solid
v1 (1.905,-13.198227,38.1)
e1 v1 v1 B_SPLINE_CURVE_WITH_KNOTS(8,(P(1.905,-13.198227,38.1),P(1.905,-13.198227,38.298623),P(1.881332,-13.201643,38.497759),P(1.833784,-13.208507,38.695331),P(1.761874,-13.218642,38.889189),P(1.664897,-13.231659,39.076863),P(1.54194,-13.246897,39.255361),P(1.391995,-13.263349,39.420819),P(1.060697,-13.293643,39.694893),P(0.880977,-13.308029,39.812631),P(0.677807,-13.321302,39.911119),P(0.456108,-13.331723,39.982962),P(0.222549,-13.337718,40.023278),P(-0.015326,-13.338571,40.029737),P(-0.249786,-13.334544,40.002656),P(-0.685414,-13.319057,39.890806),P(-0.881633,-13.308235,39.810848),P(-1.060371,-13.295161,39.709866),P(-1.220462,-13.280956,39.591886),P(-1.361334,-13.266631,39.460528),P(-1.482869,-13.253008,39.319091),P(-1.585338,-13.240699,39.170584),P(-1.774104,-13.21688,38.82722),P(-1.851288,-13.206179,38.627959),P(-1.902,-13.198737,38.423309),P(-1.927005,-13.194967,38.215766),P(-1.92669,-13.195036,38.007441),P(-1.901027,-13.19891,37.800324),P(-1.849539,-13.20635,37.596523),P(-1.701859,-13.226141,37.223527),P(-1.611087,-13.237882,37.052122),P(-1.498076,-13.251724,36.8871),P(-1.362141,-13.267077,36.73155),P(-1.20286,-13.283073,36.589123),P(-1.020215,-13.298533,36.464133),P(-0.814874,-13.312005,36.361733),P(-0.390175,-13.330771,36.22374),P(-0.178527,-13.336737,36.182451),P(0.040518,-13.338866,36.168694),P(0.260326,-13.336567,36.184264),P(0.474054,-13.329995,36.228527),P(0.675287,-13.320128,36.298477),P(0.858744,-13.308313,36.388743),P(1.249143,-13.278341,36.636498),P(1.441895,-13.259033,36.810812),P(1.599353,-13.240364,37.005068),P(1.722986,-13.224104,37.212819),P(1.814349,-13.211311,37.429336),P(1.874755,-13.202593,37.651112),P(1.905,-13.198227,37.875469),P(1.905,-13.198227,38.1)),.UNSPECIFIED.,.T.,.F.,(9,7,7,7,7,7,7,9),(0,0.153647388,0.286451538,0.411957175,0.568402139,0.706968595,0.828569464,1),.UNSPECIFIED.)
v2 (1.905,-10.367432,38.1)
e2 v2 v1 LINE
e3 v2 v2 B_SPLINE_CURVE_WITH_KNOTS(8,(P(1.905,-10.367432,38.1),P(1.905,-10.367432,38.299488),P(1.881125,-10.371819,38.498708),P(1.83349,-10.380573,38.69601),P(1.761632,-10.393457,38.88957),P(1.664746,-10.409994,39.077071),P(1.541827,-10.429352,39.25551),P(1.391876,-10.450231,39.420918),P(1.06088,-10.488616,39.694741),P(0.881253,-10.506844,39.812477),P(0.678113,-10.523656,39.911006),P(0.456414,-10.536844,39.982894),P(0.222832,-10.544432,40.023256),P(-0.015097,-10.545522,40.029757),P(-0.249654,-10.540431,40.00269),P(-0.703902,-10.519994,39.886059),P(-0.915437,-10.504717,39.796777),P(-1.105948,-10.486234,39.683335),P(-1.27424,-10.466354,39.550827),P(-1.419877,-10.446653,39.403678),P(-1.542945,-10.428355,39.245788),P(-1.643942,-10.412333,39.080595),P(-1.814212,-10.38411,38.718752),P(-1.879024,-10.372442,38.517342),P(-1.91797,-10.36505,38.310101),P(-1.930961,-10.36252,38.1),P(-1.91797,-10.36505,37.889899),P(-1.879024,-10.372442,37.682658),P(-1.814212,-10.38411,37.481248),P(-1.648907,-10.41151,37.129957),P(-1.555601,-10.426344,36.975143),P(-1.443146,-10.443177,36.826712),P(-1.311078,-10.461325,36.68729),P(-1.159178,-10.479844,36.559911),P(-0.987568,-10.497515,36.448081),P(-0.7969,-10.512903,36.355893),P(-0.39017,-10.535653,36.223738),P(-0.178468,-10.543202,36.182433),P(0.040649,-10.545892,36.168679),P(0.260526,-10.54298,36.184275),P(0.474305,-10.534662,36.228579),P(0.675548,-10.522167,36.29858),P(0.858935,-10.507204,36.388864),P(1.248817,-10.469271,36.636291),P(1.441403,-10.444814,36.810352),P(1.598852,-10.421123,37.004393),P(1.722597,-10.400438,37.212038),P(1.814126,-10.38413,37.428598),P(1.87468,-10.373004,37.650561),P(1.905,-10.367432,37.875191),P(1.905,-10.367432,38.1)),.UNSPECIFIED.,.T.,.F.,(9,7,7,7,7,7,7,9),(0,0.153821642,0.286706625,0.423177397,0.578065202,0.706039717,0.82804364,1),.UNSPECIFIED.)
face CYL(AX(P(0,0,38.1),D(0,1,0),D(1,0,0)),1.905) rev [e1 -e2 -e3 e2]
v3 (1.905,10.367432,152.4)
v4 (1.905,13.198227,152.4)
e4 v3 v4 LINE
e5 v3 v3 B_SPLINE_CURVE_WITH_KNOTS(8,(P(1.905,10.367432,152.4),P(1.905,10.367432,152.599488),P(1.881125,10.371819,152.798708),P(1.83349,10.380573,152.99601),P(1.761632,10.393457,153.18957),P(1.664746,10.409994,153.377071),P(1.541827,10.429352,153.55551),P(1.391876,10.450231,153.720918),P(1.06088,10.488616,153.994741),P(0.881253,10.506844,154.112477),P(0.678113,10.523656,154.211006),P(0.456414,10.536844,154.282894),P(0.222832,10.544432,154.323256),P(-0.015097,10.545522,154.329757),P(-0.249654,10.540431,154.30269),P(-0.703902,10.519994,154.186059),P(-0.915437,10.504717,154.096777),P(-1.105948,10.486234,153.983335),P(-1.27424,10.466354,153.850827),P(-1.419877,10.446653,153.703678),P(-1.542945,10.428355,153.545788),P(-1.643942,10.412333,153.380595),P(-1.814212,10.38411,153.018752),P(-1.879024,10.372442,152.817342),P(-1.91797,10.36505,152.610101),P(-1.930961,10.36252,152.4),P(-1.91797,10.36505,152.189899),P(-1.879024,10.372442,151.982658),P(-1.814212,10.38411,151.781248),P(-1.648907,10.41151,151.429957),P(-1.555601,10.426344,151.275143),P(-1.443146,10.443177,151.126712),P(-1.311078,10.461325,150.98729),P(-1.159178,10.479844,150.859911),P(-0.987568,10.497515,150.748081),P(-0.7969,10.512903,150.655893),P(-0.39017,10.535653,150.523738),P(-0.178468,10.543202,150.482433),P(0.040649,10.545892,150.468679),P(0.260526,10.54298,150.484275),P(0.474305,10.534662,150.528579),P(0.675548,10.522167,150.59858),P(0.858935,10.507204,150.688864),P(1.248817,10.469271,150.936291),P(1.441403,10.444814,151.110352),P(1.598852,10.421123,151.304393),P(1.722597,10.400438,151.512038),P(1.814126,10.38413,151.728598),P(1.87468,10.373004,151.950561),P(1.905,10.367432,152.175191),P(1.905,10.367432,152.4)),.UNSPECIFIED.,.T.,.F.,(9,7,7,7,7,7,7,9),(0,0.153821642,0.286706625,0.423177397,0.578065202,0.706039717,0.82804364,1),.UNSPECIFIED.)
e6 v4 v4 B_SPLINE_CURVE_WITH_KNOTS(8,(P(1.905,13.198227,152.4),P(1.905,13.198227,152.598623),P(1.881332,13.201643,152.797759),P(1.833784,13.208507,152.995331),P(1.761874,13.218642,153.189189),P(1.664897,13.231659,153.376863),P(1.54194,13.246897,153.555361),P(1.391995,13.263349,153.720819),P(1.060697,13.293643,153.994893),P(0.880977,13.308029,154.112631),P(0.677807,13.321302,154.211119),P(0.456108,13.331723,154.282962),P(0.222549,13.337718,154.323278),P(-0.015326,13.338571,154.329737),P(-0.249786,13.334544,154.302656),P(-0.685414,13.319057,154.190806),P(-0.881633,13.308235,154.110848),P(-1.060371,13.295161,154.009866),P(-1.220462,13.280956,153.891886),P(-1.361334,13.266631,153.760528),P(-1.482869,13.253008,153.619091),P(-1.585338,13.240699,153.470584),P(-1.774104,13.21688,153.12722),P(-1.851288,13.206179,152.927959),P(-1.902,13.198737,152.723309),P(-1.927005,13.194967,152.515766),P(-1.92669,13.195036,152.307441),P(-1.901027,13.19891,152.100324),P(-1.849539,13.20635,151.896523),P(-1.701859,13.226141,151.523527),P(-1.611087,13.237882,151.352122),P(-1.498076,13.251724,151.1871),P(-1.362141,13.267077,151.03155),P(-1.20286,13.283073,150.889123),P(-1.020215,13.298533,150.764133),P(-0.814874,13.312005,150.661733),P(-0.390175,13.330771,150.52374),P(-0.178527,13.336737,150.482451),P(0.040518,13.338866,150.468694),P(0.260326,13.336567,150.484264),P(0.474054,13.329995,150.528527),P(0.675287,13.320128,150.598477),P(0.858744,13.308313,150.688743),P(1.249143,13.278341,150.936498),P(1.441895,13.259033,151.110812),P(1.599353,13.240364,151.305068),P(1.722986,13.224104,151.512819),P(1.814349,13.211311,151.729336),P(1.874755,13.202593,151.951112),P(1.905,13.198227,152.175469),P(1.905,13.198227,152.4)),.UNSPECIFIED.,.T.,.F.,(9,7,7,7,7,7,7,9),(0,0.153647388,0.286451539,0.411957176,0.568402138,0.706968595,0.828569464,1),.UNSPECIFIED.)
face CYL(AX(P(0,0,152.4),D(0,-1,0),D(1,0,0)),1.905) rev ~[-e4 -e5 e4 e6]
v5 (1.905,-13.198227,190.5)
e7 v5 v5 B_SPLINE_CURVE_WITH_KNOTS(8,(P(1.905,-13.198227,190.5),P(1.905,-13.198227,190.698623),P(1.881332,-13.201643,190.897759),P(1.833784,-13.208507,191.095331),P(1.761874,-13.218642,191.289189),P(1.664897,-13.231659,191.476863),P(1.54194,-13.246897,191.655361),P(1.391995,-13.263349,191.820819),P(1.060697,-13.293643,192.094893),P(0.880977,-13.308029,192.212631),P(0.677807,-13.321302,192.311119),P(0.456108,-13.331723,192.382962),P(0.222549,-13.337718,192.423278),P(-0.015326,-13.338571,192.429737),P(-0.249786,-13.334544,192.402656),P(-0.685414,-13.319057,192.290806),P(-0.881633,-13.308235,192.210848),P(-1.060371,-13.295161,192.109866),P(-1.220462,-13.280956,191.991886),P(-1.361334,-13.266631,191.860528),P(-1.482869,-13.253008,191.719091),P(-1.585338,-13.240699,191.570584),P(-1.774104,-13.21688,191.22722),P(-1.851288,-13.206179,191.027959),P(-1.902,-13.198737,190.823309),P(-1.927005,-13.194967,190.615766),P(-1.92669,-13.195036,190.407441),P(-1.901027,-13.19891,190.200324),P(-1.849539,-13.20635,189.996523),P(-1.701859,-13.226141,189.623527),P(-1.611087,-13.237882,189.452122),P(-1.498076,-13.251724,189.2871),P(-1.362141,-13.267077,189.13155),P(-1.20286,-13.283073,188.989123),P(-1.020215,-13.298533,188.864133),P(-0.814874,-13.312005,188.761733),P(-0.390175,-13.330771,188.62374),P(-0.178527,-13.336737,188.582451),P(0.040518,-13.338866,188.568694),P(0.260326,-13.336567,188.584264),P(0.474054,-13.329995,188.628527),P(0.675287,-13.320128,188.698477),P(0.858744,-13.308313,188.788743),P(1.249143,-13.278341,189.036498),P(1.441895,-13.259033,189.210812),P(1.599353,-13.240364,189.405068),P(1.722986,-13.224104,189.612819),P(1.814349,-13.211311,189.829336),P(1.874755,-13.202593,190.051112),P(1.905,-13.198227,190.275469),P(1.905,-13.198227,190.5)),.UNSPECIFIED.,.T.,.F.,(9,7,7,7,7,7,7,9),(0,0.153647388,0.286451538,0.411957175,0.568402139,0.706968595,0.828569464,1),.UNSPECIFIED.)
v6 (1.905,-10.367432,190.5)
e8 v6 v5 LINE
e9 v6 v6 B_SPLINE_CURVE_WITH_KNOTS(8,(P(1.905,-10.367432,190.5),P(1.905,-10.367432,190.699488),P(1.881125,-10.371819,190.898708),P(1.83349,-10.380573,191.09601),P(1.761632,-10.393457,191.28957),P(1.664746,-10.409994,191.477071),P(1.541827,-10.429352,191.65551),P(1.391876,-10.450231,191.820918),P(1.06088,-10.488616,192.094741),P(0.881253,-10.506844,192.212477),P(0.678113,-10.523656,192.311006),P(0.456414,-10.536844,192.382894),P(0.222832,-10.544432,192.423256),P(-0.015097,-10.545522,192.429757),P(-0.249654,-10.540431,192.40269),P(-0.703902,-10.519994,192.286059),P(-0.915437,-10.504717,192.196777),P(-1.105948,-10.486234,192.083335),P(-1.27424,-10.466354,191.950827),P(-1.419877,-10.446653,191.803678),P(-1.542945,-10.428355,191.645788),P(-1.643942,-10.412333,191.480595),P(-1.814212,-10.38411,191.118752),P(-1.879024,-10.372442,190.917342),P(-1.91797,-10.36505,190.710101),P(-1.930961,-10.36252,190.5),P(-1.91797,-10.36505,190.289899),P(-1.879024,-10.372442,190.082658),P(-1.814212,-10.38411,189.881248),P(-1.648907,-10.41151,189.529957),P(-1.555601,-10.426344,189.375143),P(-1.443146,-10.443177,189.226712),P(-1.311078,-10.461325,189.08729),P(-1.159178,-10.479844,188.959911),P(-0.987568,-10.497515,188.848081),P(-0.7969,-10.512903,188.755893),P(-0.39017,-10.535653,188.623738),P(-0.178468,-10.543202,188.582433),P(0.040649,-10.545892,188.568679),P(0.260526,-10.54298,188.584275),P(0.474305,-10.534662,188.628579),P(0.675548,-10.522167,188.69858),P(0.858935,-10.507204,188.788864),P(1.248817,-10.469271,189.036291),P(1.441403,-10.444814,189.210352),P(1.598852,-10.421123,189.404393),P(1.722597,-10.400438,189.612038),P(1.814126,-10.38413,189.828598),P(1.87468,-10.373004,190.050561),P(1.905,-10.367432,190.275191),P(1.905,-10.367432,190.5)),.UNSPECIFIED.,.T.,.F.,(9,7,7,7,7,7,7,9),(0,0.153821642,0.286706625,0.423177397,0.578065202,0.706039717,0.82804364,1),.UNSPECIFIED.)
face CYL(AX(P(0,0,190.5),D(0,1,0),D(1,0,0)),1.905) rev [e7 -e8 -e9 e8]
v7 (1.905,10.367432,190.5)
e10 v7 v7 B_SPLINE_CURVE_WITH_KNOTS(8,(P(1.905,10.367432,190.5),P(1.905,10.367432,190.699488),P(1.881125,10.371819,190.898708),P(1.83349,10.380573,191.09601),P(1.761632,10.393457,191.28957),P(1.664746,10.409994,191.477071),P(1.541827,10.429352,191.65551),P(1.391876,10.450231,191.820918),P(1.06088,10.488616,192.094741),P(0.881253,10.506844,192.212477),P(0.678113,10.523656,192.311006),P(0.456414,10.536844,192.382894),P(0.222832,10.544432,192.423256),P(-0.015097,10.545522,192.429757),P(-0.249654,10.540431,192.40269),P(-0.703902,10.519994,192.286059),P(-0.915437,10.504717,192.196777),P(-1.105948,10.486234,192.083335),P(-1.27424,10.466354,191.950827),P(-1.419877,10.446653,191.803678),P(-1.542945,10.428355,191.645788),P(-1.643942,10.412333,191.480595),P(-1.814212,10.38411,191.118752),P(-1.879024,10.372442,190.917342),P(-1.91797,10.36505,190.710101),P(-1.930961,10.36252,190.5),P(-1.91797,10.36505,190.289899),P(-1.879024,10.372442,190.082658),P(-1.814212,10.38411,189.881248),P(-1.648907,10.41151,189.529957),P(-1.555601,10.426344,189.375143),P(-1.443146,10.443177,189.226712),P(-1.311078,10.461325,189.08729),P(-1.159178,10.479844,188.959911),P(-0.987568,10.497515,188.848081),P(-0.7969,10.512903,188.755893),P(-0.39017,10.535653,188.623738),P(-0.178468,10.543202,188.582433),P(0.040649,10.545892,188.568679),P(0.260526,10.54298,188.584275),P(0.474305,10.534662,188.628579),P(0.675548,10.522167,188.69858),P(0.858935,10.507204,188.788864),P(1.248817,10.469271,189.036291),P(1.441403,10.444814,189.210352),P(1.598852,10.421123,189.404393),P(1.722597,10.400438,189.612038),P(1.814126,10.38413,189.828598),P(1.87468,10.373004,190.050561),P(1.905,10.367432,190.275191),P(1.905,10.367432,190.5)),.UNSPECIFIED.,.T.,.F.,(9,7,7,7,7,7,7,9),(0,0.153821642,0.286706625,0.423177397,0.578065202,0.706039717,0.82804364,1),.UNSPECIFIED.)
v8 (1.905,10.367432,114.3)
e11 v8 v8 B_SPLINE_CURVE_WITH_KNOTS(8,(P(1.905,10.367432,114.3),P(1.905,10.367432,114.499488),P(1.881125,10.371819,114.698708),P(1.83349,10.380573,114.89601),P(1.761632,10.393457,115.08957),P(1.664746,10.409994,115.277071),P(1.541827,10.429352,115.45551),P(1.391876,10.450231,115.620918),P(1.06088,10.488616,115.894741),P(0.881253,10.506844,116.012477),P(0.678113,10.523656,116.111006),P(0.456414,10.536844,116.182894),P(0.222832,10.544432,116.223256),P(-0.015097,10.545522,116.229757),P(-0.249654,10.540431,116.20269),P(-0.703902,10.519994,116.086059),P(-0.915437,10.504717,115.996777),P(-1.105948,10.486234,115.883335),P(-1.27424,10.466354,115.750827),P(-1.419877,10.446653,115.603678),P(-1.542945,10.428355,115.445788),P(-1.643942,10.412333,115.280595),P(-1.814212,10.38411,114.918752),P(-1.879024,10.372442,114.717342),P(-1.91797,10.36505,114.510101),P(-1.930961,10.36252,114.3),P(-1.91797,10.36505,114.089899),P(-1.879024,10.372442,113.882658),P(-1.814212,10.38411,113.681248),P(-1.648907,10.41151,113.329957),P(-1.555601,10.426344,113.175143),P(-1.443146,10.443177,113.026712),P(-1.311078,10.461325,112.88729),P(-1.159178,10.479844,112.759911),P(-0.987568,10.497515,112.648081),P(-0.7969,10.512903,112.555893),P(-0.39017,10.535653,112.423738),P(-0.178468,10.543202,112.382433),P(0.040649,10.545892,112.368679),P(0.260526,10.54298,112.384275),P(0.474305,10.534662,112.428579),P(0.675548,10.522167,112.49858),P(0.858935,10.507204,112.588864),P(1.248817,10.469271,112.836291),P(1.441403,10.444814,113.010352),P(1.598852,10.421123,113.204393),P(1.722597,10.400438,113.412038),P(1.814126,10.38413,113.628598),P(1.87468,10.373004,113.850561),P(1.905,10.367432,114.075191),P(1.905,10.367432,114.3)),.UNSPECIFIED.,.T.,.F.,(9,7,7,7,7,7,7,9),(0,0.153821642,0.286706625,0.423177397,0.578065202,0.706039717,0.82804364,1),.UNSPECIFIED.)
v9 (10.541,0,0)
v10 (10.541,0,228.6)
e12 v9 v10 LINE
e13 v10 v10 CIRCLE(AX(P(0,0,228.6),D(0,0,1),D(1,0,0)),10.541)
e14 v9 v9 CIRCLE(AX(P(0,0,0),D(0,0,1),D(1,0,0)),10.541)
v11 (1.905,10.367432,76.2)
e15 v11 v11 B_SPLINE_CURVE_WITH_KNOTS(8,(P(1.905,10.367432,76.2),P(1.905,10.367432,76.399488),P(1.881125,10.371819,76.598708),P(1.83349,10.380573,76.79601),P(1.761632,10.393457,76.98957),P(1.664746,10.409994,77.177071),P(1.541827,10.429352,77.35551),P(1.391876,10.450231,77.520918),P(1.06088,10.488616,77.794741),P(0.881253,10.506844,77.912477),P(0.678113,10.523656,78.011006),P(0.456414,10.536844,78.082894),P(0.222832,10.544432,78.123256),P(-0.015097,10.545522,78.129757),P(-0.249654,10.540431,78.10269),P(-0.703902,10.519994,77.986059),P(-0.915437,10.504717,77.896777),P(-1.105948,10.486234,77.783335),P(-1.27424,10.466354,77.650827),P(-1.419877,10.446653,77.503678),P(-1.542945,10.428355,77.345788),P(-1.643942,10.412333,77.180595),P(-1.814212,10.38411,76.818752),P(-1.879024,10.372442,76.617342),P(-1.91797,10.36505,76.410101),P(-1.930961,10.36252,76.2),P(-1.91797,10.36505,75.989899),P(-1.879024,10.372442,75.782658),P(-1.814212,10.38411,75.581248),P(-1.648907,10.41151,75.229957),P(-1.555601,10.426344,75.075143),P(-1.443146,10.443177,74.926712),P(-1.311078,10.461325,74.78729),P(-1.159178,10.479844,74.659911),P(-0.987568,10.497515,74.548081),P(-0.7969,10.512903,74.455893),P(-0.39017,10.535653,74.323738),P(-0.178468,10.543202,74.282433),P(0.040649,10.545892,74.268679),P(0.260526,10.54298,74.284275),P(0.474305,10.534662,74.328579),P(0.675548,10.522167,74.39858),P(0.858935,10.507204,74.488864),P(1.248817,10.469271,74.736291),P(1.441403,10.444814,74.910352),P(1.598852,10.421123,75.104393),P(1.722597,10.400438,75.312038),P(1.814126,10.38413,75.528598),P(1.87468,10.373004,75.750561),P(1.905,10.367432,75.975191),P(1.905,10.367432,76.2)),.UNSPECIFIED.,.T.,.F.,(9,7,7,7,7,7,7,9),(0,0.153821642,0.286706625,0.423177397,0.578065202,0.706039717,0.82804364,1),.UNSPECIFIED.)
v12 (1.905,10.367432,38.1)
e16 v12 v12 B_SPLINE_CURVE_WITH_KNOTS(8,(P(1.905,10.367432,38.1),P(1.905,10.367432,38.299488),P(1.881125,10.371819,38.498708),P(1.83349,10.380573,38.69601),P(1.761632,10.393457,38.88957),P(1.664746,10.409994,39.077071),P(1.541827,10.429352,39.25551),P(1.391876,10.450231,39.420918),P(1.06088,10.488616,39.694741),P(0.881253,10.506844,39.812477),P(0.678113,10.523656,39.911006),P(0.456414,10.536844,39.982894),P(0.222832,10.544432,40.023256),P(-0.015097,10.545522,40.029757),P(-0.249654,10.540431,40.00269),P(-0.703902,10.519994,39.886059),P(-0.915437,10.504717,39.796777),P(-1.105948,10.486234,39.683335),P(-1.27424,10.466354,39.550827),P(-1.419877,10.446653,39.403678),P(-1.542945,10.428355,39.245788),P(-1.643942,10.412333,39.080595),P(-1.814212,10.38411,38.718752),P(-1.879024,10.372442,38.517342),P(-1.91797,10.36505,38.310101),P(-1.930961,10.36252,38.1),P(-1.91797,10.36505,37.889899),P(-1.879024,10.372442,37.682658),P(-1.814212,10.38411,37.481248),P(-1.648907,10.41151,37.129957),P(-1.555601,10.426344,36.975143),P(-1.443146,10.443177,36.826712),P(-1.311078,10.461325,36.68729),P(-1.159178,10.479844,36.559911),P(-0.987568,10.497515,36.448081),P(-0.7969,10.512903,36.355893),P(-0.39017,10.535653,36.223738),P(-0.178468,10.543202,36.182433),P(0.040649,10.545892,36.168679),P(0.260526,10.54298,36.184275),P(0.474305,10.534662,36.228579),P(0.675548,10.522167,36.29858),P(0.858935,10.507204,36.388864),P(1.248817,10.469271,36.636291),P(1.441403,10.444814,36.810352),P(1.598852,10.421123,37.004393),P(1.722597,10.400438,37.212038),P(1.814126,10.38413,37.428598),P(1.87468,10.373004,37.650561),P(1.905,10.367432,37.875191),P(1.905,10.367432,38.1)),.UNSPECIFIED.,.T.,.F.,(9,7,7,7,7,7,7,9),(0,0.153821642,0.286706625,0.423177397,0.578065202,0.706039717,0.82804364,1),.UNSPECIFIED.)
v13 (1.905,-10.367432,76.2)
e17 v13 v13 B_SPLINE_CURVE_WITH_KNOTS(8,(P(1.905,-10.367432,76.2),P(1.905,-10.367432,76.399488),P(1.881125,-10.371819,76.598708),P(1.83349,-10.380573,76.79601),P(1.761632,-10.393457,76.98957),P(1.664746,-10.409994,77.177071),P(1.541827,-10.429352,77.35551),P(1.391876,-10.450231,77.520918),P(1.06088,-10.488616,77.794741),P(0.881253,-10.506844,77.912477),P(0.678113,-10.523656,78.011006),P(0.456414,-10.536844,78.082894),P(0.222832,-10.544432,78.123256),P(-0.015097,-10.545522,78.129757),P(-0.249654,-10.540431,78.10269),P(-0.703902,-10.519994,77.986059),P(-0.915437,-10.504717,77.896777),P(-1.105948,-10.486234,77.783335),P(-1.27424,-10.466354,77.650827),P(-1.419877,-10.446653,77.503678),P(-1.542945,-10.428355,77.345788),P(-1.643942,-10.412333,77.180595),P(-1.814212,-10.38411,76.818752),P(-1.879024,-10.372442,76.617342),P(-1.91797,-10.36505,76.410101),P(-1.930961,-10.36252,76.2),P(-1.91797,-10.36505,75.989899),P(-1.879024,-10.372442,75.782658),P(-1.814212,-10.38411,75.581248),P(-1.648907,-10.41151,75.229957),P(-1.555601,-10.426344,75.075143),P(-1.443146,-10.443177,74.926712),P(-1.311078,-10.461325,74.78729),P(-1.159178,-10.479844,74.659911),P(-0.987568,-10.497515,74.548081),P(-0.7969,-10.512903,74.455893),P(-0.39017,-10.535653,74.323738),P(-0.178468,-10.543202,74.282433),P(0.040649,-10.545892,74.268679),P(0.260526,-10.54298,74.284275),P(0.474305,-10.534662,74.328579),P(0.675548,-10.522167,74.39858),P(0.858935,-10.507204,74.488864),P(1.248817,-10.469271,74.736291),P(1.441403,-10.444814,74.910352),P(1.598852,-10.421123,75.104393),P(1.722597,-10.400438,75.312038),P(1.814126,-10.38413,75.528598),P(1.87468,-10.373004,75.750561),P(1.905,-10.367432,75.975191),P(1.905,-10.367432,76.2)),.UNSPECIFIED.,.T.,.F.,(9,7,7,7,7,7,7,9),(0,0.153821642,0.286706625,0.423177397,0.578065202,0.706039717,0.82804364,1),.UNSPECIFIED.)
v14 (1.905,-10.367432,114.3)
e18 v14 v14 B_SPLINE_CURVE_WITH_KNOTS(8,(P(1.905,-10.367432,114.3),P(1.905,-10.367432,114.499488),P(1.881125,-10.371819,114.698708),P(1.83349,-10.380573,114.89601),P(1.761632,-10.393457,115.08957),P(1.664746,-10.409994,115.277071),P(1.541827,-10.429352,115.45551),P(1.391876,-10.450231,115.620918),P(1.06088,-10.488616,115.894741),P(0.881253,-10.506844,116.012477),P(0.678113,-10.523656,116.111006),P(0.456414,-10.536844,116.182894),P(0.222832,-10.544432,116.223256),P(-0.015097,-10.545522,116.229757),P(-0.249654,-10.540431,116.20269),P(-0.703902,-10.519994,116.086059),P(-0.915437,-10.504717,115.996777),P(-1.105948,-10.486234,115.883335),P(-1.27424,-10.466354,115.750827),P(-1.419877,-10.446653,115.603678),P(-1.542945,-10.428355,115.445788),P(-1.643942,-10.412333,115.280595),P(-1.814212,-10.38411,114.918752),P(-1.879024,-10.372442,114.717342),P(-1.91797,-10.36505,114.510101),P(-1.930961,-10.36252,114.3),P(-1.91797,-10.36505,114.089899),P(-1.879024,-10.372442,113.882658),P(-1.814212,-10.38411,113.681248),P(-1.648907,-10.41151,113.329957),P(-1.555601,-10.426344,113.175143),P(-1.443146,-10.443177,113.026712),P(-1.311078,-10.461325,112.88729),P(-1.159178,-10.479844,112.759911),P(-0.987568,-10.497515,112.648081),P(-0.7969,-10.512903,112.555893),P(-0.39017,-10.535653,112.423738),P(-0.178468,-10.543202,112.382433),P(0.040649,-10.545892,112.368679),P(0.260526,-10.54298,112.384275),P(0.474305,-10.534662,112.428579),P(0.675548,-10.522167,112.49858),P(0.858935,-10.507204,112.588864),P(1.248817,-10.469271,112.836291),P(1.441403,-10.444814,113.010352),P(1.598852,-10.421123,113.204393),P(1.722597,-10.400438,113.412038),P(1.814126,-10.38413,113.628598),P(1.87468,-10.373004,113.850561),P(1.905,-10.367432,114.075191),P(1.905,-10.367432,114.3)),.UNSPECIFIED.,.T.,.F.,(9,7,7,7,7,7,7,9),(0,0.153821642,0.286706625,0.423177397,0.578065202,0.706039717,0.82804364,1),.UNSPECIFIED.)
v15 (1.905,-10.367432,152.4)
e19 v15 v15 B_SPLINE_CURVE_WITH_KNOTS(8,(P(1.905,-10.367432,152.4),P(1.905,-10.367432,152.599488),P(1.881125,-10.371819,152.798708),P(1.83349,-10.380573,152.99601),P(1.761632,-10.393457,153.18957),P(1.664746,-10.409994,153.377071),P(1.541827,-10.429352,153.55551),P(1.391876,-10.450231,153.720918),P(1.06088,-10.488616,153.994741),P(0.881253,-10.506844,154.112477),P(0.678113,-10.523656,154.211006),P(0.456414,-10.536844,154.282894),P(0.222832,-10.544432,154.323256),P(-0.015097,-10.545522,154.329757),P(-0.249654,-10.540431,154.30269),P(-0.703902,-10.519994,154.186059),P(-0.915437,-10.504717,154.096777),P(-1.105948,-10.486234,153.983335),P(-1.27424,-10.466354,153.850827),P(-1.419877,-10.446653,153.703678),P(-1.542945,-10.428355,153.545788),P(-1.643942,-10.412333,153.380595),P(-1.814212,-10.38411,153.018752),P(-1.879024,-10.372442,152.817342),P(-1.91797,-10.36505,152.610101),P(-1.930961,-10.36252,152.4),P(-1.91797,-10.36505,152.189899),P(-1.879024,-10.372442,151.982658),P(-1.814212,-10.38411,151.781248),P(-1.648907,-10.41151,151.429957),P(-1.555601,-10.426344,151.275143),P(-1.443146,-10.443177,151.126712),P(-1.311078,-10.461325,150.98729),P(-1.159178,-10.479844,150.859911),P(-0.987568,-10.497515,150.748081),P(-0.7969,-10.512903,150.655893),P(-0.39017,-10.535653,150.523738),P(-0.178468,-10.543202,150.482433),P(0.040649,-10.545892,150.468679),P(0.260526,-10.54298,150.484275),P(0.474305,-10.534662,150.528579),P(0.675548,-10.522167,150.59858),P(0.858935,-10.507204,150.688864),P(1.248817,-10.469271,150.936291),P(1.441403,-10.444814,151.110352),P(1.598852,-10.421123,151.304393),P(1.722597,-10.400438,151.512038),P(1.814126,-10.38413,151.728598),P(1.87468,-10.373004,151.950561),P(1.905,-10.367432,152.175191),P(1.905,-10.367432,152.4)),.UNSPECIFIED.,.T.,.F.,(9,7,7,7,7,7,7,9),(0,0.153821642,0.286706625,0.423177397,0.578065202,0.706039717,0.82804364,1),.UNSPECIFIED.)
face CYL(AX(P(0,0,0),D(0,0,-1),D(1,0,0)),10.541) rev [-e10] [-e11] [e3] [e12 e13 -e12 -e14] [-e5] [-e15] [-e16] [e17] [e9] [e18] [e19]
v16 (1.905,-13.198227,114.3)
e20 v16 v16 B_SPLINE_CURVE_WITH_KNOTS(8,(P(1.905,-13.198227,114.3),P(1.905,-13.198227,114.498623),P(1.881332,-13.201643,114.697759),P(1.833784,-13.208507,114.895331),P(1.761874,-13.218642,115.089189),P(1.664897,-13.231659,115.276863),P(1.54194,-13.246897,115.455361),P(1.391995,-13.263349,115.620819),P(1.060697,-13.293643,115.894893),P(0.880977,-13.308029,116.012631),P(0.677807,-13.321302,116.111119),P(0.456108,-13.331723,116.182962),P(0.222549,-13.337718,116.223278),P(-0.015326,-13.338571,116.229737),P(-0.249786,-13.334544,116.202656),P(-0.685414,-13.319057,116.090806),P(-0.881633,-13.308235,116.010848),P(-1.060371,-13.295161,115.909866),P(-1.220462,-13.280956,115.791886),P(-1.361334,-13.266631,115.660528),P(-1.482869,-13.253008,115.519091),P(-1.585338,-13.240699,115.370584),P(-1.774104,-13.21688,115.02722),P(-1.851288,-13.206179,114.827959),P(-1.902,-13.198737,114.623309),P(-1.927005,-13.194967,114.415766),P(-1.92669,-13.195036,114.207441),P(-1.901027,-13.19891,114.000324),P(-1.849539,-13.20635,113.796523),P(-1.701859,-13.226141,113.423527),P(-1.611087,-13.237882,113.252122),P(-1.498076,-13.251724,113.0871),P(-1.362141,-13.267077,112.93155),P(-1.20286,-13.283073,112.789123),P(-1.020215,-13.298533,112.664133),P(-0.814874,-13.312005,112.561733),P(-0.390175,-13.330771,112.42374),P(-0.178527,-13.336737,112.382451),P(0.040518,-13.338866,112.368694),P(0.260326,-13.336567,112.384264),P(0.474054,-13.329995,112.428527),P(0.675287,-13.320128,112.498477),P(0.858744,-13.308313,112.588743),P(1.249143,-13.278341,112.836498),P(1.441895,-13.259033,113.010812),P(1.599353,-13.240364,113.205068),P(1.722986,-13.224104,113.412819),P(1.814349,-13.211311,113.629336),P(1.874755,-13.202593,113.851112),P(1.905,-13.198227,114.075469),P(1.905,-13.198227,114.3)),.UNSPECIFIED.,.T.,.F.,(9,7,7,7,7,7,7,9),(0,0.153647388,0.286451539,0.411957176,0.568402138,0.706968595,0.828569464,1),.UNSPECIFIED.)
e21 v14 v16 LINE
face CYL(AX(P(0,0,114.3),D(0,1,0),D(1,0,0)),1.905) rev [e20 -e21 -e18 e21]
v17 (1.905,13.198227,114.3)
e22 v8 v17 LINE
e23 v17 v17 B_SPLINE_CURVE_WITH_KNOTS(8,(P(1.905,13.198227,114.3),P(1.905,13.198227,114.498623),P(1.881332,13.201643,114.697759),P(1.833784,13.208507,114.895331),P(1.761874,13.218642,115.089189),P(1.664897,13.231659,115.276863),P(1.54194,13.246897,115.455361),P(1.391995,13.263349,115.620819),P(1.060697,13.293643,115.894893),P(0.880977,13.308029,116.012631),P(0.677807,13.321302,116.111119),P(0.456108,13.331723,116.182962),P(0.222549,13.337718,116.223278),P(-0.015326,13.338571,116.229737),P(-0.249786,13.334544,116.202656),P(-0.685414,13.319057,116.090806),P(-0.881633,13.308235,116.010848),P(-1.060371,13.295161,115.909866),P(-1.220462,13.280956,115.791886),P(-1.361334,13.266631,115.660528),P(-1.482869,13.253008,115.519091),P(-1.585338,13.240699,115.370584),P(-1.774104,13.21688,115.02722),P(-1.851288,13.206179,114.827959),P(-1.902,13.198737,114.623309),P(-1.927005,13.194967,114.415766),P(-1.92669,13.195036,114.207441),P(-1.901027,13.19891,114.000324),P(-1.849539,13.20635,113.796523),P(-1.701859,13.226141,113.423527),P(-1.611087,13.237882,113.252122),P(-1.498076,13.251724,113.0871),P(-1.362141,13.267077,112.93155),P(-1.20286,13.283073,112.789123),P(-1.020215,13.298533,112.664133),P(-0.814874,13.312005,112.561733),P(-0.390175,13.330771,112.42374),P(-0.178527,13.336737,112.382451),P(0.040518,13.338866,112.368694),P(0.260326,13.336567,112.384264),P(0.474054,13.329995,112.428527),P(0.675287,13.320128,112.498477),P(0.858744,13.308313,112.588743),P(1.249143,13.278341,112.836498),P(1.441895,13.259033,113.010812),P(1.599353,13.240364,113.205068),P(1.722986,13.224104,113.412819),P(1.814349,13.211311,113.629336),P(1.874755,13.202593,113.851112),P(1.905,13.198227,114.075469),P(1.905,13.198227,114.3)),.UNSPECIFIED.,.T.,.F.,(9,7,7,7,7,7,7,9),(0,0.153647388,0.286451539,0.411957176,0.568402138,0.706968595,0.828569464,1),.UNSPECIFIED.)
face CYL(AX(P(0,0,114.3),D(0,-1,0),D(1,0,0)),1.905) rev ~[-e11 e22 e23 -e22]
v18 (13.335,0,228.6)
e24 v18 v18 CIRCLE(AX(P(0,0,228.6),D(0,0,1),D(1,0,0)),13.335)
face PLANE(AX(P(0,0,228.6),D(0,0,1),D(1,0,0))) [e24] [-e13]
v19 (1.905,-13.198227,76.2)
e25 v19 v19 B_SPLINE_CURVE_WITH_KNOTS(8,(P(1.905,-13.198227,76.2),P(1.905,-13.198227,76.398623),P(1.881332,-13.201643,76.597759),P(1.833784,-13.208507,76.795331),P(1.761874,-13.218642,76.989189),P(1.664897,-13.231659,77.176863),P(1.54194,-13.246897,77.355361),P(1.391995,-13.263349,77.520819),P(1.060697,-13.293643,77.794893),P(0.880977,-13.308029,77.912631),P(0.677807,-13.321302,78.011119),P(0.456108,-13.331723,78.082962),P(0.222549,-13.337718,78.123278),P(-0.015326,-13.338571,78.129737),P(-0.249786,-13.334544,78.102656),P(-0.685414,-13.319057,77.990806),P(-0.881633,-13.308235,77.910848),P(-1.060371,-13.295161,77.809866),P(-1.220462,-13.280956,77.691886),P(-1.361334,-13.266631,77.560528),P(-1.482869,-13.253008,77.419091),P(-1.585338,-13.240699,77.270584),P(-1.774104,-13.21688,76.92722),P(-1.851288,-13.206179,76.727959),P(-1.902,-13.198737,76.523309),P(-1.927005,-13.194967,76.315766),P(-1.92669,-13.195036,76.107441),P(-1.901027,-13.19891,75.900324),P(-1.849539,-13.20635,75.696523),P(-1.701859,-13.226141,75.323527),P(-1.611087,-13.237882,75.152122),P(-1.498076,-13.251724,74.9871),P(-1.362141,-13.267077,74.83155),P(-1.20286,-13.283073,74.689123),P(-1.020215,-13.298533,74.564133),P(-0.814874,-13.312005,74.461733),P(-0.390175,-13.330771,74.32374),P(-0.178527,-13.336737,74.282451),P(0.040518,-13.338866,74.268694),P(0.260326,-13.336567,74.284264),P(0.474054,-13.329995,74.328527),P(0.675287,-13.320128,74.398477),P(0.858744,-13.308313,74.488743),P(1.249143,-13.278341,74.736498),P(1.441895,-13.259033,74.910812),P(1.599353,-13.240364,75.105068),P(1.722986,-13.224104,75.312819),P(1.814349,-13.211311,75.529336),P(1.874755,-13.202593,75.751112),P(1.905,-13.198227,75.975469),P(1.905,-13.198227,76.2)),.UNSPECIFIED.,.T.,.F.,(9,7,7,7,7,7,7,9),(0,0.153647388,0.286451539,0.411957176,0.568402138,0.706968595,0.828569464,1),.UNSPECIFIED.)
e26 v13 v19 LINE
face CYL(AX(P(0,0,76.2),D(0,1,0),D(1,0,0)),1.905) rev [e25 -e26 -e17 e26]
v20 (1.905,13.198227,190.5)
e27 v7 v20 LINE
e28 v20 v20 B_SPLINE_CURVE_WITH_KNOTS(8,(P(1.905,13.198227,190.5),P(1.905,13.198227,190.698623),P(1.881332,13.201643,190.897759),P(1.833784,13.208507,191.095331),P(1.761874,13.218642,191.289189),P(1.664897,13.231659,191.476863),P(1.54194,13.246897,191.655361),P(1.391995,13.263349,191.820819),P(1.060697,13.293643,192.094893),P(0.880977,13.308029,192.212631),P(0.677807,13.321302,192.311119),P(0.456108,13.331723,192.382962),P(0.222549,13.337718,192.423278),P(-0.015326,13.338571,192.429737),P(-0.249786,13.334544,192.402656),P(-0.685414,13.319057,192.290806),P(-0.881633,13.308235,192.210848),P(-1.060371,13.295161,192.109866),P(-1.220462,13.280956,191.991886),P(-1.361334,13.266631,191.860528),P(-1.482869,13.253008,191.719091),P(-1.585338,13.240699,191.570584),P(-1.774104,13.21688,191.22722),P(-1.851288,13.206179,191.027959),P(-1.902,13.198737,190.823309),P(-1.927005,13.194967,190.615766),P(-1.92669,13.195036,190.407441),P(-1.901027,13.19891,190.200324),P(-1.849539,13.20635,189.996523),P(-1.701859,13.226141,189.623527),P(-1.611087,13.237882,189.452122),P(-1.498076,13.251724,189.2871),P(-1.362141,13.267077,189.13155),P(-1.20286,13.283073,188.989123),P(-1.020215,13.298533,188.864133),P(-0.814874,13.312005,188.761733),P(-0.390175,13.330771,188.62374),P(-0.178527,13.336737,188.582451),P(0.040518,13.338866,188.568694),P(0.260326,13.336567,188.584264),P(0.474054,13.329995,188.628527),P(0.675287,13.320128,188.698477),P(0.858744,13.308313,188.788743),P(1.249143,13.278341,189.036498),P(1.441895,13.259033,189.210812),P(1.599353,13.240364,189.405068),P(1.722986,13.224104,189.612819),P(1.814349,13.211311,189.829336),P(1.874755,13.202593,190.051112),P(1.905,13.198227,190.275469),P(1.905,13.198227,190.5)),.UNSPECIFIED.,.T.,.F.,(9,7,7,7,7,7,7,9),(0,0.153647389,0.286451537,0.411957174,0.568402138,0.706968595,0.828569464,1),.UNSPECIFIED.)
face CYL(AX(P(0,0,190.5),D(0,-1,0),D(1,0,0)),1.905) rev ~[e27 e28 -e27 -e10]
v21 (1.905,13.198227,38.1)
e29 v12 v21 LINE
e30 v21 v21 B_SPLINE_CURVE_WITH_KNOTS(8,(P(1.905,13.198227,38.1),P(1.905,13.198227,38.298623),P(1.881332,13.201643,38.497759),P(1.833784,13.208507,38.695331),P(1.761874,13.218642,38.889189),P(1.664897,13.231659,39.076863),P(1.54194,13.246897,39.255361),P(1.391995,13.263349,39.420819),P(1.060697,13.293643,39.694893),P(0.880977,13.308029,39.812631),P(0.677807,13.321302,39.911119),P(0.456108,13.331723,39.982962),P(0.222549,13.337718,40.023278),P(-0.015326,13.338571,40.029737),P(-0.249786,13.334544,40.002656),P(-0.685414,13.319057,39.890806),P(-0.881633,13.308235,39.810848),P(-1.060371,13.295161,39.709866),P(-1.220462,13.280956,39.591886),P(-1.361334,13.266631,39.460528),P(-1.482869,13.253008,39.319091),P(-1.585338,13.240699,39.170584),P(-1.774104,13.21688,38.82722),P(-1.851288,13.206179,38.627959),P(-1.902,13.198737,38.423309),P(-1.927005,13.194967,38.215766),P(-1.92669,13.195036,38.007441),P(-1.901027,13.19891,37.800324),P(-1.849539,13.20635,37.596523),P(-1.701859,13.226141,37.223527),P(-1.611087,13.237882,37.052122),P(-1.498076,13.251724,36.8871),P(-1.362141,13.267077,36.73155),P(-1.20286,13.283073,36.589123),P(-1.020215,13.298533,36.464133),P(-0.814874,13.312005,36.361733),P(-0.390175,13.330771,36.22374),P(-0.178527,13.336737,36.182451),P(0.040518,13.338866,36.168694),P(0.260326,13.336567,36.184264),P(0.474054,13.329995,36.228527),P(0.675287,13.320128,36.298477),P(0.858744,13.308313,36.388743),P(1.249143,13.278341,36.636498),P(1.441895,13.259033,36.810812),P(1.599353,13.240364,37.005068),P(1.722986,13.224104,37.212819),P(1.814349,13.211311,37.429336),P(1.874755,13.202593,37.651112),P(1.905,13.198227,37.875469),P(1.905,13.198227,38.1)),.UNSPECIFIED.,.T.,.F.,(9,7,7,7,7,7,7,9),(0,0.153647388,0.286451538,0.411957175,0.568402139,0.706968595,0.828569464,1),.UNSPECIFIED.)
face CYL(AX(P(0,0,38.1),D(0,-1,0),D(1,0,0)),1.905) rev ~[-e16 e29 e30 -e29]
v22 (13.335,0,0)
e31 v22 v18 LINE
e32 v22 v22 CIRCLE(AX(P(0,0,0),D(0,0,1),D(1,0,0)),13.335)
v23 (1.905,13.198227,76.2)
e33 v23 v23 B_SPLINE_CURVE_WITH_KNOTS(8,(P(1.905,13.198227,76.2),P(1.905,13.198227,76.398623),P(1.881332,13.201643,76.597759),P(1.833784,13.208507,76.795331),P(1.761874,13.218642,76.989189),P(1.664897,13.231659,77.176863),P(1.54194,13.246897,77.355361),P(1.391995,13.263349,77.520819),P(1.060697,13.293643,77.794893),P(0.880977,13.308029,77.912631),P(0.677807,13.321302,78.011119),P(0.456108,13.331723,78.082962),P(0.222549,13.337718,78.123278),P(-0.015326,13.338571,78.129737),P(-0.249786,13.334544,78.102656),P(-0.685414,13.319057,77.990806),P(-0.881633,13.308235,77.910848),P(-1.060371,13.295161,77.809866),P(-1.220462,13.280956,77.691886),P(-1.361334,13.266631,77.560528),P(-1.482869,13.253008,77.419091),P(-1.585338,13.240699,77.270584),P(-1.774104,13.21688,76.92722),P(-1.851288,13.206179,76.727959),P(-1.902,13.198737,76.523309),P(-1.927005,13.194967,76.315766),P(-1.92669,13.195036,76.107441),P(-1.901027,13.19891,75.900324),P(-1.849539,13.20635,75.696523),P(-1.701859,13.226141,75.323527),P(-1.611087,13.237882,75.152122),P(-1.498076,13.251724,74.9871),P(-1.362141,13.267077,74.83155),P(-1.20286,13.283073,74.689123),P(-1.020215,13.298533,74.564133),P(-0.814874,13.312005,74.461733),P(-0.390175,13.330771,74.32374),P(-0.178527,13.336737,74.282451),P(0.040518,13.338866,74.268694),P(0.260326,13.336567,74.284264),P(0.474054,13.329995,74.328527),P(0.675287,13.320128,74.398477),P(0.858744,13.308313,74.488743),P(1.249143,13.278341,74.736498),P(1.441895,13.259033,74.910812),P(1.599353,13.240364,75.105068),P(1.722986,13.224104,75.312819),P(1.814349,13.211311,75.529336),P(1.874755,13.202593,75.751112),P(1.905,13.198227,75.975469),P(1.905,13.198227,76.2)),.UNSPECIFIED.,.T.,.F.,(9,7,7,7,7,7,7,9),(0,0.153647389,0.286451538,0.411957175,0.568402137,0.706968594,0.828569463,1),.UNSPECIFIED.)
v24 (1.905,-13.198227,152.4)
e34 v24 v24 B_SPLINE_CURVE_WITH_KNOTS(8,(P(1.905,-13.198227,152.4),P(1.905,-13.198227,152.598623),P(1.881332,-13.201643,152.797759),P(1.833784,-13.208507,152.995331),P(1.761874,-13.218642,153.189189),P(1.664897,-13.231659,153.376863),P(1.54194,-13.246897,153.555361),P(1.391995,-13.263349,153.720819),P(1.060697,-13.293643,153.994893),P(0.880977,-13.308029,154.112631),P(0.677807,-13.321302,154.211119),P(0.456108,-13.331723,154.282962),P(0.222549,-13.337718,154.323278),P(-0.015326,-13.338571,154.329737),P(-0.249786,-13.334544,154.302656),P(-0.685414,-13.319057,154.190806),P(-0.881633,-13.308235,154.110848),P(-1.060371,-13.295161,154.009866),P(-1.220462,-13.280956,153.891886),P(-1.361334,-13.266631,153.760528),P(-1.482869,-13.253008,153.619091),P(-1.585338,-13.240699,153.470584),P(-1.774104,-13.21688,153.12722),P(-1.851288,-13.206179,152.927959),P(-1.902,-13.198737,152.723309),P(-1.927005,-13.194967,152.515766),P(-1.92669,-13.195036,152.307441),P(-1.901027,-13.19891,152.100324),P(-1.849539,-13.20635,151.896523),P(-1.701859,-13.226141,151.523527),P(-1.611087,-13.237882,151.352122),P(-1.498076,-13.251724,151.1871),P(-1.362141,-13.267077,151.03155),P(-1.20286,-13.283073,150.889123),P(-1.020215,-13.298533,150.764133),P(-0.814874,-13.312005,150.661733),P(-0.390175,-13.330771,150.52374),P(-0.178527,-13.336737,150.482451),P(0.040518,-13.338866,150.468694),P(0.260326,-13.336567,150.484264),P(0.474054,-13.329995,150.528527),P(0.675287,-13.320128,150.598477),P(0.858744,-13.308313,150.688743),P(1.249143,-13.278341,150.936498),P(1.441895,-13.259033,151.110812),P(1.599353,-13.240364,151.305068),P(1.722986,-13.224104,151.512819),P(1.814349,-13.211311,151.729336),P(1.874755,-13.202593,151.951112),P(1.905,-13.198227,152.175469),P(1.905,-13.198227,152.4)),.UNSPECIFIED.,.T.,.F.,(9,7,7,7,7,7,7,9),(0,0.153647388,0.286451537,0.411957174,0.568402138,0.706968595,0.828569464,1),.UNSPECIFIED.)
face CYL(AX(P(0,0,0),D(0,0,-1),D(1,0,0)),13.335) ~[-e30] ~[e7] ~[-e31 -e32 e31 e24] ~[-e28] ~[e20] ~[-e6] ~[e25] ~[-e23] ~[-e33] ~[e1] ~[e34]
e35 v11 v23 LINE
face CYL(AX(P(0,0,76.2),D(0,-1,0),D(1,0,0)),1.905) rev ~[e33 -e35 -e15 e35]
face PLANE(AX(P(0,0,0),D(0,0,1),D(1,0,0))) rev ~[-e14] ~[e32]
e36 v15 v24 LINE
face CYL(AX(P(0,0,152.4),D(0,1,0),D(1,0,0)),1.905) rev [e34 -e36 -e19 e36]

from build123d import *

# Parameters (mm, degrees)
F0_R          = 13.335
F0_R_2        = 10.541
F1_DEPTH      = 228.6
F2_R          = 1.905
F3_DEPTH      = 13.336
F3_DEPTH_BACK = 13.336


with BuildPart() as f1:
    # F0 (on Top) → F1 (new body)
    with BuildSketch(Plane.XY):
        Circle(F0_R)
        Circle(F0_R_2, mode=Mode.SUBTRACT)
    extrude(amount=F1_DEPTH)

    # F2 (on Front) → F3 (cut, two sides)
    with BuildSketch(Plane.XZ) as f3_sk:
        with Locations((0, 38.1)):
            Circle(F2_R)
        with Locations((0, 76.2)):
            Circle(F2_R)
        with Locations((0, 114.3)):
            Circle(F2_R)
        with Locations((0, 152.4)):
            Circle(F2_R)
        with Locations((0, 190.5)):
            Circle(F2_R)
    extrude(amount=-F3_DEPTH, mode=Mode.SUBTRACT)
    extrude(f3_sk.sketch, amount=F3_DEPTH_BACK, mode=Mode.SUBTRACT)


solid = f1.part
